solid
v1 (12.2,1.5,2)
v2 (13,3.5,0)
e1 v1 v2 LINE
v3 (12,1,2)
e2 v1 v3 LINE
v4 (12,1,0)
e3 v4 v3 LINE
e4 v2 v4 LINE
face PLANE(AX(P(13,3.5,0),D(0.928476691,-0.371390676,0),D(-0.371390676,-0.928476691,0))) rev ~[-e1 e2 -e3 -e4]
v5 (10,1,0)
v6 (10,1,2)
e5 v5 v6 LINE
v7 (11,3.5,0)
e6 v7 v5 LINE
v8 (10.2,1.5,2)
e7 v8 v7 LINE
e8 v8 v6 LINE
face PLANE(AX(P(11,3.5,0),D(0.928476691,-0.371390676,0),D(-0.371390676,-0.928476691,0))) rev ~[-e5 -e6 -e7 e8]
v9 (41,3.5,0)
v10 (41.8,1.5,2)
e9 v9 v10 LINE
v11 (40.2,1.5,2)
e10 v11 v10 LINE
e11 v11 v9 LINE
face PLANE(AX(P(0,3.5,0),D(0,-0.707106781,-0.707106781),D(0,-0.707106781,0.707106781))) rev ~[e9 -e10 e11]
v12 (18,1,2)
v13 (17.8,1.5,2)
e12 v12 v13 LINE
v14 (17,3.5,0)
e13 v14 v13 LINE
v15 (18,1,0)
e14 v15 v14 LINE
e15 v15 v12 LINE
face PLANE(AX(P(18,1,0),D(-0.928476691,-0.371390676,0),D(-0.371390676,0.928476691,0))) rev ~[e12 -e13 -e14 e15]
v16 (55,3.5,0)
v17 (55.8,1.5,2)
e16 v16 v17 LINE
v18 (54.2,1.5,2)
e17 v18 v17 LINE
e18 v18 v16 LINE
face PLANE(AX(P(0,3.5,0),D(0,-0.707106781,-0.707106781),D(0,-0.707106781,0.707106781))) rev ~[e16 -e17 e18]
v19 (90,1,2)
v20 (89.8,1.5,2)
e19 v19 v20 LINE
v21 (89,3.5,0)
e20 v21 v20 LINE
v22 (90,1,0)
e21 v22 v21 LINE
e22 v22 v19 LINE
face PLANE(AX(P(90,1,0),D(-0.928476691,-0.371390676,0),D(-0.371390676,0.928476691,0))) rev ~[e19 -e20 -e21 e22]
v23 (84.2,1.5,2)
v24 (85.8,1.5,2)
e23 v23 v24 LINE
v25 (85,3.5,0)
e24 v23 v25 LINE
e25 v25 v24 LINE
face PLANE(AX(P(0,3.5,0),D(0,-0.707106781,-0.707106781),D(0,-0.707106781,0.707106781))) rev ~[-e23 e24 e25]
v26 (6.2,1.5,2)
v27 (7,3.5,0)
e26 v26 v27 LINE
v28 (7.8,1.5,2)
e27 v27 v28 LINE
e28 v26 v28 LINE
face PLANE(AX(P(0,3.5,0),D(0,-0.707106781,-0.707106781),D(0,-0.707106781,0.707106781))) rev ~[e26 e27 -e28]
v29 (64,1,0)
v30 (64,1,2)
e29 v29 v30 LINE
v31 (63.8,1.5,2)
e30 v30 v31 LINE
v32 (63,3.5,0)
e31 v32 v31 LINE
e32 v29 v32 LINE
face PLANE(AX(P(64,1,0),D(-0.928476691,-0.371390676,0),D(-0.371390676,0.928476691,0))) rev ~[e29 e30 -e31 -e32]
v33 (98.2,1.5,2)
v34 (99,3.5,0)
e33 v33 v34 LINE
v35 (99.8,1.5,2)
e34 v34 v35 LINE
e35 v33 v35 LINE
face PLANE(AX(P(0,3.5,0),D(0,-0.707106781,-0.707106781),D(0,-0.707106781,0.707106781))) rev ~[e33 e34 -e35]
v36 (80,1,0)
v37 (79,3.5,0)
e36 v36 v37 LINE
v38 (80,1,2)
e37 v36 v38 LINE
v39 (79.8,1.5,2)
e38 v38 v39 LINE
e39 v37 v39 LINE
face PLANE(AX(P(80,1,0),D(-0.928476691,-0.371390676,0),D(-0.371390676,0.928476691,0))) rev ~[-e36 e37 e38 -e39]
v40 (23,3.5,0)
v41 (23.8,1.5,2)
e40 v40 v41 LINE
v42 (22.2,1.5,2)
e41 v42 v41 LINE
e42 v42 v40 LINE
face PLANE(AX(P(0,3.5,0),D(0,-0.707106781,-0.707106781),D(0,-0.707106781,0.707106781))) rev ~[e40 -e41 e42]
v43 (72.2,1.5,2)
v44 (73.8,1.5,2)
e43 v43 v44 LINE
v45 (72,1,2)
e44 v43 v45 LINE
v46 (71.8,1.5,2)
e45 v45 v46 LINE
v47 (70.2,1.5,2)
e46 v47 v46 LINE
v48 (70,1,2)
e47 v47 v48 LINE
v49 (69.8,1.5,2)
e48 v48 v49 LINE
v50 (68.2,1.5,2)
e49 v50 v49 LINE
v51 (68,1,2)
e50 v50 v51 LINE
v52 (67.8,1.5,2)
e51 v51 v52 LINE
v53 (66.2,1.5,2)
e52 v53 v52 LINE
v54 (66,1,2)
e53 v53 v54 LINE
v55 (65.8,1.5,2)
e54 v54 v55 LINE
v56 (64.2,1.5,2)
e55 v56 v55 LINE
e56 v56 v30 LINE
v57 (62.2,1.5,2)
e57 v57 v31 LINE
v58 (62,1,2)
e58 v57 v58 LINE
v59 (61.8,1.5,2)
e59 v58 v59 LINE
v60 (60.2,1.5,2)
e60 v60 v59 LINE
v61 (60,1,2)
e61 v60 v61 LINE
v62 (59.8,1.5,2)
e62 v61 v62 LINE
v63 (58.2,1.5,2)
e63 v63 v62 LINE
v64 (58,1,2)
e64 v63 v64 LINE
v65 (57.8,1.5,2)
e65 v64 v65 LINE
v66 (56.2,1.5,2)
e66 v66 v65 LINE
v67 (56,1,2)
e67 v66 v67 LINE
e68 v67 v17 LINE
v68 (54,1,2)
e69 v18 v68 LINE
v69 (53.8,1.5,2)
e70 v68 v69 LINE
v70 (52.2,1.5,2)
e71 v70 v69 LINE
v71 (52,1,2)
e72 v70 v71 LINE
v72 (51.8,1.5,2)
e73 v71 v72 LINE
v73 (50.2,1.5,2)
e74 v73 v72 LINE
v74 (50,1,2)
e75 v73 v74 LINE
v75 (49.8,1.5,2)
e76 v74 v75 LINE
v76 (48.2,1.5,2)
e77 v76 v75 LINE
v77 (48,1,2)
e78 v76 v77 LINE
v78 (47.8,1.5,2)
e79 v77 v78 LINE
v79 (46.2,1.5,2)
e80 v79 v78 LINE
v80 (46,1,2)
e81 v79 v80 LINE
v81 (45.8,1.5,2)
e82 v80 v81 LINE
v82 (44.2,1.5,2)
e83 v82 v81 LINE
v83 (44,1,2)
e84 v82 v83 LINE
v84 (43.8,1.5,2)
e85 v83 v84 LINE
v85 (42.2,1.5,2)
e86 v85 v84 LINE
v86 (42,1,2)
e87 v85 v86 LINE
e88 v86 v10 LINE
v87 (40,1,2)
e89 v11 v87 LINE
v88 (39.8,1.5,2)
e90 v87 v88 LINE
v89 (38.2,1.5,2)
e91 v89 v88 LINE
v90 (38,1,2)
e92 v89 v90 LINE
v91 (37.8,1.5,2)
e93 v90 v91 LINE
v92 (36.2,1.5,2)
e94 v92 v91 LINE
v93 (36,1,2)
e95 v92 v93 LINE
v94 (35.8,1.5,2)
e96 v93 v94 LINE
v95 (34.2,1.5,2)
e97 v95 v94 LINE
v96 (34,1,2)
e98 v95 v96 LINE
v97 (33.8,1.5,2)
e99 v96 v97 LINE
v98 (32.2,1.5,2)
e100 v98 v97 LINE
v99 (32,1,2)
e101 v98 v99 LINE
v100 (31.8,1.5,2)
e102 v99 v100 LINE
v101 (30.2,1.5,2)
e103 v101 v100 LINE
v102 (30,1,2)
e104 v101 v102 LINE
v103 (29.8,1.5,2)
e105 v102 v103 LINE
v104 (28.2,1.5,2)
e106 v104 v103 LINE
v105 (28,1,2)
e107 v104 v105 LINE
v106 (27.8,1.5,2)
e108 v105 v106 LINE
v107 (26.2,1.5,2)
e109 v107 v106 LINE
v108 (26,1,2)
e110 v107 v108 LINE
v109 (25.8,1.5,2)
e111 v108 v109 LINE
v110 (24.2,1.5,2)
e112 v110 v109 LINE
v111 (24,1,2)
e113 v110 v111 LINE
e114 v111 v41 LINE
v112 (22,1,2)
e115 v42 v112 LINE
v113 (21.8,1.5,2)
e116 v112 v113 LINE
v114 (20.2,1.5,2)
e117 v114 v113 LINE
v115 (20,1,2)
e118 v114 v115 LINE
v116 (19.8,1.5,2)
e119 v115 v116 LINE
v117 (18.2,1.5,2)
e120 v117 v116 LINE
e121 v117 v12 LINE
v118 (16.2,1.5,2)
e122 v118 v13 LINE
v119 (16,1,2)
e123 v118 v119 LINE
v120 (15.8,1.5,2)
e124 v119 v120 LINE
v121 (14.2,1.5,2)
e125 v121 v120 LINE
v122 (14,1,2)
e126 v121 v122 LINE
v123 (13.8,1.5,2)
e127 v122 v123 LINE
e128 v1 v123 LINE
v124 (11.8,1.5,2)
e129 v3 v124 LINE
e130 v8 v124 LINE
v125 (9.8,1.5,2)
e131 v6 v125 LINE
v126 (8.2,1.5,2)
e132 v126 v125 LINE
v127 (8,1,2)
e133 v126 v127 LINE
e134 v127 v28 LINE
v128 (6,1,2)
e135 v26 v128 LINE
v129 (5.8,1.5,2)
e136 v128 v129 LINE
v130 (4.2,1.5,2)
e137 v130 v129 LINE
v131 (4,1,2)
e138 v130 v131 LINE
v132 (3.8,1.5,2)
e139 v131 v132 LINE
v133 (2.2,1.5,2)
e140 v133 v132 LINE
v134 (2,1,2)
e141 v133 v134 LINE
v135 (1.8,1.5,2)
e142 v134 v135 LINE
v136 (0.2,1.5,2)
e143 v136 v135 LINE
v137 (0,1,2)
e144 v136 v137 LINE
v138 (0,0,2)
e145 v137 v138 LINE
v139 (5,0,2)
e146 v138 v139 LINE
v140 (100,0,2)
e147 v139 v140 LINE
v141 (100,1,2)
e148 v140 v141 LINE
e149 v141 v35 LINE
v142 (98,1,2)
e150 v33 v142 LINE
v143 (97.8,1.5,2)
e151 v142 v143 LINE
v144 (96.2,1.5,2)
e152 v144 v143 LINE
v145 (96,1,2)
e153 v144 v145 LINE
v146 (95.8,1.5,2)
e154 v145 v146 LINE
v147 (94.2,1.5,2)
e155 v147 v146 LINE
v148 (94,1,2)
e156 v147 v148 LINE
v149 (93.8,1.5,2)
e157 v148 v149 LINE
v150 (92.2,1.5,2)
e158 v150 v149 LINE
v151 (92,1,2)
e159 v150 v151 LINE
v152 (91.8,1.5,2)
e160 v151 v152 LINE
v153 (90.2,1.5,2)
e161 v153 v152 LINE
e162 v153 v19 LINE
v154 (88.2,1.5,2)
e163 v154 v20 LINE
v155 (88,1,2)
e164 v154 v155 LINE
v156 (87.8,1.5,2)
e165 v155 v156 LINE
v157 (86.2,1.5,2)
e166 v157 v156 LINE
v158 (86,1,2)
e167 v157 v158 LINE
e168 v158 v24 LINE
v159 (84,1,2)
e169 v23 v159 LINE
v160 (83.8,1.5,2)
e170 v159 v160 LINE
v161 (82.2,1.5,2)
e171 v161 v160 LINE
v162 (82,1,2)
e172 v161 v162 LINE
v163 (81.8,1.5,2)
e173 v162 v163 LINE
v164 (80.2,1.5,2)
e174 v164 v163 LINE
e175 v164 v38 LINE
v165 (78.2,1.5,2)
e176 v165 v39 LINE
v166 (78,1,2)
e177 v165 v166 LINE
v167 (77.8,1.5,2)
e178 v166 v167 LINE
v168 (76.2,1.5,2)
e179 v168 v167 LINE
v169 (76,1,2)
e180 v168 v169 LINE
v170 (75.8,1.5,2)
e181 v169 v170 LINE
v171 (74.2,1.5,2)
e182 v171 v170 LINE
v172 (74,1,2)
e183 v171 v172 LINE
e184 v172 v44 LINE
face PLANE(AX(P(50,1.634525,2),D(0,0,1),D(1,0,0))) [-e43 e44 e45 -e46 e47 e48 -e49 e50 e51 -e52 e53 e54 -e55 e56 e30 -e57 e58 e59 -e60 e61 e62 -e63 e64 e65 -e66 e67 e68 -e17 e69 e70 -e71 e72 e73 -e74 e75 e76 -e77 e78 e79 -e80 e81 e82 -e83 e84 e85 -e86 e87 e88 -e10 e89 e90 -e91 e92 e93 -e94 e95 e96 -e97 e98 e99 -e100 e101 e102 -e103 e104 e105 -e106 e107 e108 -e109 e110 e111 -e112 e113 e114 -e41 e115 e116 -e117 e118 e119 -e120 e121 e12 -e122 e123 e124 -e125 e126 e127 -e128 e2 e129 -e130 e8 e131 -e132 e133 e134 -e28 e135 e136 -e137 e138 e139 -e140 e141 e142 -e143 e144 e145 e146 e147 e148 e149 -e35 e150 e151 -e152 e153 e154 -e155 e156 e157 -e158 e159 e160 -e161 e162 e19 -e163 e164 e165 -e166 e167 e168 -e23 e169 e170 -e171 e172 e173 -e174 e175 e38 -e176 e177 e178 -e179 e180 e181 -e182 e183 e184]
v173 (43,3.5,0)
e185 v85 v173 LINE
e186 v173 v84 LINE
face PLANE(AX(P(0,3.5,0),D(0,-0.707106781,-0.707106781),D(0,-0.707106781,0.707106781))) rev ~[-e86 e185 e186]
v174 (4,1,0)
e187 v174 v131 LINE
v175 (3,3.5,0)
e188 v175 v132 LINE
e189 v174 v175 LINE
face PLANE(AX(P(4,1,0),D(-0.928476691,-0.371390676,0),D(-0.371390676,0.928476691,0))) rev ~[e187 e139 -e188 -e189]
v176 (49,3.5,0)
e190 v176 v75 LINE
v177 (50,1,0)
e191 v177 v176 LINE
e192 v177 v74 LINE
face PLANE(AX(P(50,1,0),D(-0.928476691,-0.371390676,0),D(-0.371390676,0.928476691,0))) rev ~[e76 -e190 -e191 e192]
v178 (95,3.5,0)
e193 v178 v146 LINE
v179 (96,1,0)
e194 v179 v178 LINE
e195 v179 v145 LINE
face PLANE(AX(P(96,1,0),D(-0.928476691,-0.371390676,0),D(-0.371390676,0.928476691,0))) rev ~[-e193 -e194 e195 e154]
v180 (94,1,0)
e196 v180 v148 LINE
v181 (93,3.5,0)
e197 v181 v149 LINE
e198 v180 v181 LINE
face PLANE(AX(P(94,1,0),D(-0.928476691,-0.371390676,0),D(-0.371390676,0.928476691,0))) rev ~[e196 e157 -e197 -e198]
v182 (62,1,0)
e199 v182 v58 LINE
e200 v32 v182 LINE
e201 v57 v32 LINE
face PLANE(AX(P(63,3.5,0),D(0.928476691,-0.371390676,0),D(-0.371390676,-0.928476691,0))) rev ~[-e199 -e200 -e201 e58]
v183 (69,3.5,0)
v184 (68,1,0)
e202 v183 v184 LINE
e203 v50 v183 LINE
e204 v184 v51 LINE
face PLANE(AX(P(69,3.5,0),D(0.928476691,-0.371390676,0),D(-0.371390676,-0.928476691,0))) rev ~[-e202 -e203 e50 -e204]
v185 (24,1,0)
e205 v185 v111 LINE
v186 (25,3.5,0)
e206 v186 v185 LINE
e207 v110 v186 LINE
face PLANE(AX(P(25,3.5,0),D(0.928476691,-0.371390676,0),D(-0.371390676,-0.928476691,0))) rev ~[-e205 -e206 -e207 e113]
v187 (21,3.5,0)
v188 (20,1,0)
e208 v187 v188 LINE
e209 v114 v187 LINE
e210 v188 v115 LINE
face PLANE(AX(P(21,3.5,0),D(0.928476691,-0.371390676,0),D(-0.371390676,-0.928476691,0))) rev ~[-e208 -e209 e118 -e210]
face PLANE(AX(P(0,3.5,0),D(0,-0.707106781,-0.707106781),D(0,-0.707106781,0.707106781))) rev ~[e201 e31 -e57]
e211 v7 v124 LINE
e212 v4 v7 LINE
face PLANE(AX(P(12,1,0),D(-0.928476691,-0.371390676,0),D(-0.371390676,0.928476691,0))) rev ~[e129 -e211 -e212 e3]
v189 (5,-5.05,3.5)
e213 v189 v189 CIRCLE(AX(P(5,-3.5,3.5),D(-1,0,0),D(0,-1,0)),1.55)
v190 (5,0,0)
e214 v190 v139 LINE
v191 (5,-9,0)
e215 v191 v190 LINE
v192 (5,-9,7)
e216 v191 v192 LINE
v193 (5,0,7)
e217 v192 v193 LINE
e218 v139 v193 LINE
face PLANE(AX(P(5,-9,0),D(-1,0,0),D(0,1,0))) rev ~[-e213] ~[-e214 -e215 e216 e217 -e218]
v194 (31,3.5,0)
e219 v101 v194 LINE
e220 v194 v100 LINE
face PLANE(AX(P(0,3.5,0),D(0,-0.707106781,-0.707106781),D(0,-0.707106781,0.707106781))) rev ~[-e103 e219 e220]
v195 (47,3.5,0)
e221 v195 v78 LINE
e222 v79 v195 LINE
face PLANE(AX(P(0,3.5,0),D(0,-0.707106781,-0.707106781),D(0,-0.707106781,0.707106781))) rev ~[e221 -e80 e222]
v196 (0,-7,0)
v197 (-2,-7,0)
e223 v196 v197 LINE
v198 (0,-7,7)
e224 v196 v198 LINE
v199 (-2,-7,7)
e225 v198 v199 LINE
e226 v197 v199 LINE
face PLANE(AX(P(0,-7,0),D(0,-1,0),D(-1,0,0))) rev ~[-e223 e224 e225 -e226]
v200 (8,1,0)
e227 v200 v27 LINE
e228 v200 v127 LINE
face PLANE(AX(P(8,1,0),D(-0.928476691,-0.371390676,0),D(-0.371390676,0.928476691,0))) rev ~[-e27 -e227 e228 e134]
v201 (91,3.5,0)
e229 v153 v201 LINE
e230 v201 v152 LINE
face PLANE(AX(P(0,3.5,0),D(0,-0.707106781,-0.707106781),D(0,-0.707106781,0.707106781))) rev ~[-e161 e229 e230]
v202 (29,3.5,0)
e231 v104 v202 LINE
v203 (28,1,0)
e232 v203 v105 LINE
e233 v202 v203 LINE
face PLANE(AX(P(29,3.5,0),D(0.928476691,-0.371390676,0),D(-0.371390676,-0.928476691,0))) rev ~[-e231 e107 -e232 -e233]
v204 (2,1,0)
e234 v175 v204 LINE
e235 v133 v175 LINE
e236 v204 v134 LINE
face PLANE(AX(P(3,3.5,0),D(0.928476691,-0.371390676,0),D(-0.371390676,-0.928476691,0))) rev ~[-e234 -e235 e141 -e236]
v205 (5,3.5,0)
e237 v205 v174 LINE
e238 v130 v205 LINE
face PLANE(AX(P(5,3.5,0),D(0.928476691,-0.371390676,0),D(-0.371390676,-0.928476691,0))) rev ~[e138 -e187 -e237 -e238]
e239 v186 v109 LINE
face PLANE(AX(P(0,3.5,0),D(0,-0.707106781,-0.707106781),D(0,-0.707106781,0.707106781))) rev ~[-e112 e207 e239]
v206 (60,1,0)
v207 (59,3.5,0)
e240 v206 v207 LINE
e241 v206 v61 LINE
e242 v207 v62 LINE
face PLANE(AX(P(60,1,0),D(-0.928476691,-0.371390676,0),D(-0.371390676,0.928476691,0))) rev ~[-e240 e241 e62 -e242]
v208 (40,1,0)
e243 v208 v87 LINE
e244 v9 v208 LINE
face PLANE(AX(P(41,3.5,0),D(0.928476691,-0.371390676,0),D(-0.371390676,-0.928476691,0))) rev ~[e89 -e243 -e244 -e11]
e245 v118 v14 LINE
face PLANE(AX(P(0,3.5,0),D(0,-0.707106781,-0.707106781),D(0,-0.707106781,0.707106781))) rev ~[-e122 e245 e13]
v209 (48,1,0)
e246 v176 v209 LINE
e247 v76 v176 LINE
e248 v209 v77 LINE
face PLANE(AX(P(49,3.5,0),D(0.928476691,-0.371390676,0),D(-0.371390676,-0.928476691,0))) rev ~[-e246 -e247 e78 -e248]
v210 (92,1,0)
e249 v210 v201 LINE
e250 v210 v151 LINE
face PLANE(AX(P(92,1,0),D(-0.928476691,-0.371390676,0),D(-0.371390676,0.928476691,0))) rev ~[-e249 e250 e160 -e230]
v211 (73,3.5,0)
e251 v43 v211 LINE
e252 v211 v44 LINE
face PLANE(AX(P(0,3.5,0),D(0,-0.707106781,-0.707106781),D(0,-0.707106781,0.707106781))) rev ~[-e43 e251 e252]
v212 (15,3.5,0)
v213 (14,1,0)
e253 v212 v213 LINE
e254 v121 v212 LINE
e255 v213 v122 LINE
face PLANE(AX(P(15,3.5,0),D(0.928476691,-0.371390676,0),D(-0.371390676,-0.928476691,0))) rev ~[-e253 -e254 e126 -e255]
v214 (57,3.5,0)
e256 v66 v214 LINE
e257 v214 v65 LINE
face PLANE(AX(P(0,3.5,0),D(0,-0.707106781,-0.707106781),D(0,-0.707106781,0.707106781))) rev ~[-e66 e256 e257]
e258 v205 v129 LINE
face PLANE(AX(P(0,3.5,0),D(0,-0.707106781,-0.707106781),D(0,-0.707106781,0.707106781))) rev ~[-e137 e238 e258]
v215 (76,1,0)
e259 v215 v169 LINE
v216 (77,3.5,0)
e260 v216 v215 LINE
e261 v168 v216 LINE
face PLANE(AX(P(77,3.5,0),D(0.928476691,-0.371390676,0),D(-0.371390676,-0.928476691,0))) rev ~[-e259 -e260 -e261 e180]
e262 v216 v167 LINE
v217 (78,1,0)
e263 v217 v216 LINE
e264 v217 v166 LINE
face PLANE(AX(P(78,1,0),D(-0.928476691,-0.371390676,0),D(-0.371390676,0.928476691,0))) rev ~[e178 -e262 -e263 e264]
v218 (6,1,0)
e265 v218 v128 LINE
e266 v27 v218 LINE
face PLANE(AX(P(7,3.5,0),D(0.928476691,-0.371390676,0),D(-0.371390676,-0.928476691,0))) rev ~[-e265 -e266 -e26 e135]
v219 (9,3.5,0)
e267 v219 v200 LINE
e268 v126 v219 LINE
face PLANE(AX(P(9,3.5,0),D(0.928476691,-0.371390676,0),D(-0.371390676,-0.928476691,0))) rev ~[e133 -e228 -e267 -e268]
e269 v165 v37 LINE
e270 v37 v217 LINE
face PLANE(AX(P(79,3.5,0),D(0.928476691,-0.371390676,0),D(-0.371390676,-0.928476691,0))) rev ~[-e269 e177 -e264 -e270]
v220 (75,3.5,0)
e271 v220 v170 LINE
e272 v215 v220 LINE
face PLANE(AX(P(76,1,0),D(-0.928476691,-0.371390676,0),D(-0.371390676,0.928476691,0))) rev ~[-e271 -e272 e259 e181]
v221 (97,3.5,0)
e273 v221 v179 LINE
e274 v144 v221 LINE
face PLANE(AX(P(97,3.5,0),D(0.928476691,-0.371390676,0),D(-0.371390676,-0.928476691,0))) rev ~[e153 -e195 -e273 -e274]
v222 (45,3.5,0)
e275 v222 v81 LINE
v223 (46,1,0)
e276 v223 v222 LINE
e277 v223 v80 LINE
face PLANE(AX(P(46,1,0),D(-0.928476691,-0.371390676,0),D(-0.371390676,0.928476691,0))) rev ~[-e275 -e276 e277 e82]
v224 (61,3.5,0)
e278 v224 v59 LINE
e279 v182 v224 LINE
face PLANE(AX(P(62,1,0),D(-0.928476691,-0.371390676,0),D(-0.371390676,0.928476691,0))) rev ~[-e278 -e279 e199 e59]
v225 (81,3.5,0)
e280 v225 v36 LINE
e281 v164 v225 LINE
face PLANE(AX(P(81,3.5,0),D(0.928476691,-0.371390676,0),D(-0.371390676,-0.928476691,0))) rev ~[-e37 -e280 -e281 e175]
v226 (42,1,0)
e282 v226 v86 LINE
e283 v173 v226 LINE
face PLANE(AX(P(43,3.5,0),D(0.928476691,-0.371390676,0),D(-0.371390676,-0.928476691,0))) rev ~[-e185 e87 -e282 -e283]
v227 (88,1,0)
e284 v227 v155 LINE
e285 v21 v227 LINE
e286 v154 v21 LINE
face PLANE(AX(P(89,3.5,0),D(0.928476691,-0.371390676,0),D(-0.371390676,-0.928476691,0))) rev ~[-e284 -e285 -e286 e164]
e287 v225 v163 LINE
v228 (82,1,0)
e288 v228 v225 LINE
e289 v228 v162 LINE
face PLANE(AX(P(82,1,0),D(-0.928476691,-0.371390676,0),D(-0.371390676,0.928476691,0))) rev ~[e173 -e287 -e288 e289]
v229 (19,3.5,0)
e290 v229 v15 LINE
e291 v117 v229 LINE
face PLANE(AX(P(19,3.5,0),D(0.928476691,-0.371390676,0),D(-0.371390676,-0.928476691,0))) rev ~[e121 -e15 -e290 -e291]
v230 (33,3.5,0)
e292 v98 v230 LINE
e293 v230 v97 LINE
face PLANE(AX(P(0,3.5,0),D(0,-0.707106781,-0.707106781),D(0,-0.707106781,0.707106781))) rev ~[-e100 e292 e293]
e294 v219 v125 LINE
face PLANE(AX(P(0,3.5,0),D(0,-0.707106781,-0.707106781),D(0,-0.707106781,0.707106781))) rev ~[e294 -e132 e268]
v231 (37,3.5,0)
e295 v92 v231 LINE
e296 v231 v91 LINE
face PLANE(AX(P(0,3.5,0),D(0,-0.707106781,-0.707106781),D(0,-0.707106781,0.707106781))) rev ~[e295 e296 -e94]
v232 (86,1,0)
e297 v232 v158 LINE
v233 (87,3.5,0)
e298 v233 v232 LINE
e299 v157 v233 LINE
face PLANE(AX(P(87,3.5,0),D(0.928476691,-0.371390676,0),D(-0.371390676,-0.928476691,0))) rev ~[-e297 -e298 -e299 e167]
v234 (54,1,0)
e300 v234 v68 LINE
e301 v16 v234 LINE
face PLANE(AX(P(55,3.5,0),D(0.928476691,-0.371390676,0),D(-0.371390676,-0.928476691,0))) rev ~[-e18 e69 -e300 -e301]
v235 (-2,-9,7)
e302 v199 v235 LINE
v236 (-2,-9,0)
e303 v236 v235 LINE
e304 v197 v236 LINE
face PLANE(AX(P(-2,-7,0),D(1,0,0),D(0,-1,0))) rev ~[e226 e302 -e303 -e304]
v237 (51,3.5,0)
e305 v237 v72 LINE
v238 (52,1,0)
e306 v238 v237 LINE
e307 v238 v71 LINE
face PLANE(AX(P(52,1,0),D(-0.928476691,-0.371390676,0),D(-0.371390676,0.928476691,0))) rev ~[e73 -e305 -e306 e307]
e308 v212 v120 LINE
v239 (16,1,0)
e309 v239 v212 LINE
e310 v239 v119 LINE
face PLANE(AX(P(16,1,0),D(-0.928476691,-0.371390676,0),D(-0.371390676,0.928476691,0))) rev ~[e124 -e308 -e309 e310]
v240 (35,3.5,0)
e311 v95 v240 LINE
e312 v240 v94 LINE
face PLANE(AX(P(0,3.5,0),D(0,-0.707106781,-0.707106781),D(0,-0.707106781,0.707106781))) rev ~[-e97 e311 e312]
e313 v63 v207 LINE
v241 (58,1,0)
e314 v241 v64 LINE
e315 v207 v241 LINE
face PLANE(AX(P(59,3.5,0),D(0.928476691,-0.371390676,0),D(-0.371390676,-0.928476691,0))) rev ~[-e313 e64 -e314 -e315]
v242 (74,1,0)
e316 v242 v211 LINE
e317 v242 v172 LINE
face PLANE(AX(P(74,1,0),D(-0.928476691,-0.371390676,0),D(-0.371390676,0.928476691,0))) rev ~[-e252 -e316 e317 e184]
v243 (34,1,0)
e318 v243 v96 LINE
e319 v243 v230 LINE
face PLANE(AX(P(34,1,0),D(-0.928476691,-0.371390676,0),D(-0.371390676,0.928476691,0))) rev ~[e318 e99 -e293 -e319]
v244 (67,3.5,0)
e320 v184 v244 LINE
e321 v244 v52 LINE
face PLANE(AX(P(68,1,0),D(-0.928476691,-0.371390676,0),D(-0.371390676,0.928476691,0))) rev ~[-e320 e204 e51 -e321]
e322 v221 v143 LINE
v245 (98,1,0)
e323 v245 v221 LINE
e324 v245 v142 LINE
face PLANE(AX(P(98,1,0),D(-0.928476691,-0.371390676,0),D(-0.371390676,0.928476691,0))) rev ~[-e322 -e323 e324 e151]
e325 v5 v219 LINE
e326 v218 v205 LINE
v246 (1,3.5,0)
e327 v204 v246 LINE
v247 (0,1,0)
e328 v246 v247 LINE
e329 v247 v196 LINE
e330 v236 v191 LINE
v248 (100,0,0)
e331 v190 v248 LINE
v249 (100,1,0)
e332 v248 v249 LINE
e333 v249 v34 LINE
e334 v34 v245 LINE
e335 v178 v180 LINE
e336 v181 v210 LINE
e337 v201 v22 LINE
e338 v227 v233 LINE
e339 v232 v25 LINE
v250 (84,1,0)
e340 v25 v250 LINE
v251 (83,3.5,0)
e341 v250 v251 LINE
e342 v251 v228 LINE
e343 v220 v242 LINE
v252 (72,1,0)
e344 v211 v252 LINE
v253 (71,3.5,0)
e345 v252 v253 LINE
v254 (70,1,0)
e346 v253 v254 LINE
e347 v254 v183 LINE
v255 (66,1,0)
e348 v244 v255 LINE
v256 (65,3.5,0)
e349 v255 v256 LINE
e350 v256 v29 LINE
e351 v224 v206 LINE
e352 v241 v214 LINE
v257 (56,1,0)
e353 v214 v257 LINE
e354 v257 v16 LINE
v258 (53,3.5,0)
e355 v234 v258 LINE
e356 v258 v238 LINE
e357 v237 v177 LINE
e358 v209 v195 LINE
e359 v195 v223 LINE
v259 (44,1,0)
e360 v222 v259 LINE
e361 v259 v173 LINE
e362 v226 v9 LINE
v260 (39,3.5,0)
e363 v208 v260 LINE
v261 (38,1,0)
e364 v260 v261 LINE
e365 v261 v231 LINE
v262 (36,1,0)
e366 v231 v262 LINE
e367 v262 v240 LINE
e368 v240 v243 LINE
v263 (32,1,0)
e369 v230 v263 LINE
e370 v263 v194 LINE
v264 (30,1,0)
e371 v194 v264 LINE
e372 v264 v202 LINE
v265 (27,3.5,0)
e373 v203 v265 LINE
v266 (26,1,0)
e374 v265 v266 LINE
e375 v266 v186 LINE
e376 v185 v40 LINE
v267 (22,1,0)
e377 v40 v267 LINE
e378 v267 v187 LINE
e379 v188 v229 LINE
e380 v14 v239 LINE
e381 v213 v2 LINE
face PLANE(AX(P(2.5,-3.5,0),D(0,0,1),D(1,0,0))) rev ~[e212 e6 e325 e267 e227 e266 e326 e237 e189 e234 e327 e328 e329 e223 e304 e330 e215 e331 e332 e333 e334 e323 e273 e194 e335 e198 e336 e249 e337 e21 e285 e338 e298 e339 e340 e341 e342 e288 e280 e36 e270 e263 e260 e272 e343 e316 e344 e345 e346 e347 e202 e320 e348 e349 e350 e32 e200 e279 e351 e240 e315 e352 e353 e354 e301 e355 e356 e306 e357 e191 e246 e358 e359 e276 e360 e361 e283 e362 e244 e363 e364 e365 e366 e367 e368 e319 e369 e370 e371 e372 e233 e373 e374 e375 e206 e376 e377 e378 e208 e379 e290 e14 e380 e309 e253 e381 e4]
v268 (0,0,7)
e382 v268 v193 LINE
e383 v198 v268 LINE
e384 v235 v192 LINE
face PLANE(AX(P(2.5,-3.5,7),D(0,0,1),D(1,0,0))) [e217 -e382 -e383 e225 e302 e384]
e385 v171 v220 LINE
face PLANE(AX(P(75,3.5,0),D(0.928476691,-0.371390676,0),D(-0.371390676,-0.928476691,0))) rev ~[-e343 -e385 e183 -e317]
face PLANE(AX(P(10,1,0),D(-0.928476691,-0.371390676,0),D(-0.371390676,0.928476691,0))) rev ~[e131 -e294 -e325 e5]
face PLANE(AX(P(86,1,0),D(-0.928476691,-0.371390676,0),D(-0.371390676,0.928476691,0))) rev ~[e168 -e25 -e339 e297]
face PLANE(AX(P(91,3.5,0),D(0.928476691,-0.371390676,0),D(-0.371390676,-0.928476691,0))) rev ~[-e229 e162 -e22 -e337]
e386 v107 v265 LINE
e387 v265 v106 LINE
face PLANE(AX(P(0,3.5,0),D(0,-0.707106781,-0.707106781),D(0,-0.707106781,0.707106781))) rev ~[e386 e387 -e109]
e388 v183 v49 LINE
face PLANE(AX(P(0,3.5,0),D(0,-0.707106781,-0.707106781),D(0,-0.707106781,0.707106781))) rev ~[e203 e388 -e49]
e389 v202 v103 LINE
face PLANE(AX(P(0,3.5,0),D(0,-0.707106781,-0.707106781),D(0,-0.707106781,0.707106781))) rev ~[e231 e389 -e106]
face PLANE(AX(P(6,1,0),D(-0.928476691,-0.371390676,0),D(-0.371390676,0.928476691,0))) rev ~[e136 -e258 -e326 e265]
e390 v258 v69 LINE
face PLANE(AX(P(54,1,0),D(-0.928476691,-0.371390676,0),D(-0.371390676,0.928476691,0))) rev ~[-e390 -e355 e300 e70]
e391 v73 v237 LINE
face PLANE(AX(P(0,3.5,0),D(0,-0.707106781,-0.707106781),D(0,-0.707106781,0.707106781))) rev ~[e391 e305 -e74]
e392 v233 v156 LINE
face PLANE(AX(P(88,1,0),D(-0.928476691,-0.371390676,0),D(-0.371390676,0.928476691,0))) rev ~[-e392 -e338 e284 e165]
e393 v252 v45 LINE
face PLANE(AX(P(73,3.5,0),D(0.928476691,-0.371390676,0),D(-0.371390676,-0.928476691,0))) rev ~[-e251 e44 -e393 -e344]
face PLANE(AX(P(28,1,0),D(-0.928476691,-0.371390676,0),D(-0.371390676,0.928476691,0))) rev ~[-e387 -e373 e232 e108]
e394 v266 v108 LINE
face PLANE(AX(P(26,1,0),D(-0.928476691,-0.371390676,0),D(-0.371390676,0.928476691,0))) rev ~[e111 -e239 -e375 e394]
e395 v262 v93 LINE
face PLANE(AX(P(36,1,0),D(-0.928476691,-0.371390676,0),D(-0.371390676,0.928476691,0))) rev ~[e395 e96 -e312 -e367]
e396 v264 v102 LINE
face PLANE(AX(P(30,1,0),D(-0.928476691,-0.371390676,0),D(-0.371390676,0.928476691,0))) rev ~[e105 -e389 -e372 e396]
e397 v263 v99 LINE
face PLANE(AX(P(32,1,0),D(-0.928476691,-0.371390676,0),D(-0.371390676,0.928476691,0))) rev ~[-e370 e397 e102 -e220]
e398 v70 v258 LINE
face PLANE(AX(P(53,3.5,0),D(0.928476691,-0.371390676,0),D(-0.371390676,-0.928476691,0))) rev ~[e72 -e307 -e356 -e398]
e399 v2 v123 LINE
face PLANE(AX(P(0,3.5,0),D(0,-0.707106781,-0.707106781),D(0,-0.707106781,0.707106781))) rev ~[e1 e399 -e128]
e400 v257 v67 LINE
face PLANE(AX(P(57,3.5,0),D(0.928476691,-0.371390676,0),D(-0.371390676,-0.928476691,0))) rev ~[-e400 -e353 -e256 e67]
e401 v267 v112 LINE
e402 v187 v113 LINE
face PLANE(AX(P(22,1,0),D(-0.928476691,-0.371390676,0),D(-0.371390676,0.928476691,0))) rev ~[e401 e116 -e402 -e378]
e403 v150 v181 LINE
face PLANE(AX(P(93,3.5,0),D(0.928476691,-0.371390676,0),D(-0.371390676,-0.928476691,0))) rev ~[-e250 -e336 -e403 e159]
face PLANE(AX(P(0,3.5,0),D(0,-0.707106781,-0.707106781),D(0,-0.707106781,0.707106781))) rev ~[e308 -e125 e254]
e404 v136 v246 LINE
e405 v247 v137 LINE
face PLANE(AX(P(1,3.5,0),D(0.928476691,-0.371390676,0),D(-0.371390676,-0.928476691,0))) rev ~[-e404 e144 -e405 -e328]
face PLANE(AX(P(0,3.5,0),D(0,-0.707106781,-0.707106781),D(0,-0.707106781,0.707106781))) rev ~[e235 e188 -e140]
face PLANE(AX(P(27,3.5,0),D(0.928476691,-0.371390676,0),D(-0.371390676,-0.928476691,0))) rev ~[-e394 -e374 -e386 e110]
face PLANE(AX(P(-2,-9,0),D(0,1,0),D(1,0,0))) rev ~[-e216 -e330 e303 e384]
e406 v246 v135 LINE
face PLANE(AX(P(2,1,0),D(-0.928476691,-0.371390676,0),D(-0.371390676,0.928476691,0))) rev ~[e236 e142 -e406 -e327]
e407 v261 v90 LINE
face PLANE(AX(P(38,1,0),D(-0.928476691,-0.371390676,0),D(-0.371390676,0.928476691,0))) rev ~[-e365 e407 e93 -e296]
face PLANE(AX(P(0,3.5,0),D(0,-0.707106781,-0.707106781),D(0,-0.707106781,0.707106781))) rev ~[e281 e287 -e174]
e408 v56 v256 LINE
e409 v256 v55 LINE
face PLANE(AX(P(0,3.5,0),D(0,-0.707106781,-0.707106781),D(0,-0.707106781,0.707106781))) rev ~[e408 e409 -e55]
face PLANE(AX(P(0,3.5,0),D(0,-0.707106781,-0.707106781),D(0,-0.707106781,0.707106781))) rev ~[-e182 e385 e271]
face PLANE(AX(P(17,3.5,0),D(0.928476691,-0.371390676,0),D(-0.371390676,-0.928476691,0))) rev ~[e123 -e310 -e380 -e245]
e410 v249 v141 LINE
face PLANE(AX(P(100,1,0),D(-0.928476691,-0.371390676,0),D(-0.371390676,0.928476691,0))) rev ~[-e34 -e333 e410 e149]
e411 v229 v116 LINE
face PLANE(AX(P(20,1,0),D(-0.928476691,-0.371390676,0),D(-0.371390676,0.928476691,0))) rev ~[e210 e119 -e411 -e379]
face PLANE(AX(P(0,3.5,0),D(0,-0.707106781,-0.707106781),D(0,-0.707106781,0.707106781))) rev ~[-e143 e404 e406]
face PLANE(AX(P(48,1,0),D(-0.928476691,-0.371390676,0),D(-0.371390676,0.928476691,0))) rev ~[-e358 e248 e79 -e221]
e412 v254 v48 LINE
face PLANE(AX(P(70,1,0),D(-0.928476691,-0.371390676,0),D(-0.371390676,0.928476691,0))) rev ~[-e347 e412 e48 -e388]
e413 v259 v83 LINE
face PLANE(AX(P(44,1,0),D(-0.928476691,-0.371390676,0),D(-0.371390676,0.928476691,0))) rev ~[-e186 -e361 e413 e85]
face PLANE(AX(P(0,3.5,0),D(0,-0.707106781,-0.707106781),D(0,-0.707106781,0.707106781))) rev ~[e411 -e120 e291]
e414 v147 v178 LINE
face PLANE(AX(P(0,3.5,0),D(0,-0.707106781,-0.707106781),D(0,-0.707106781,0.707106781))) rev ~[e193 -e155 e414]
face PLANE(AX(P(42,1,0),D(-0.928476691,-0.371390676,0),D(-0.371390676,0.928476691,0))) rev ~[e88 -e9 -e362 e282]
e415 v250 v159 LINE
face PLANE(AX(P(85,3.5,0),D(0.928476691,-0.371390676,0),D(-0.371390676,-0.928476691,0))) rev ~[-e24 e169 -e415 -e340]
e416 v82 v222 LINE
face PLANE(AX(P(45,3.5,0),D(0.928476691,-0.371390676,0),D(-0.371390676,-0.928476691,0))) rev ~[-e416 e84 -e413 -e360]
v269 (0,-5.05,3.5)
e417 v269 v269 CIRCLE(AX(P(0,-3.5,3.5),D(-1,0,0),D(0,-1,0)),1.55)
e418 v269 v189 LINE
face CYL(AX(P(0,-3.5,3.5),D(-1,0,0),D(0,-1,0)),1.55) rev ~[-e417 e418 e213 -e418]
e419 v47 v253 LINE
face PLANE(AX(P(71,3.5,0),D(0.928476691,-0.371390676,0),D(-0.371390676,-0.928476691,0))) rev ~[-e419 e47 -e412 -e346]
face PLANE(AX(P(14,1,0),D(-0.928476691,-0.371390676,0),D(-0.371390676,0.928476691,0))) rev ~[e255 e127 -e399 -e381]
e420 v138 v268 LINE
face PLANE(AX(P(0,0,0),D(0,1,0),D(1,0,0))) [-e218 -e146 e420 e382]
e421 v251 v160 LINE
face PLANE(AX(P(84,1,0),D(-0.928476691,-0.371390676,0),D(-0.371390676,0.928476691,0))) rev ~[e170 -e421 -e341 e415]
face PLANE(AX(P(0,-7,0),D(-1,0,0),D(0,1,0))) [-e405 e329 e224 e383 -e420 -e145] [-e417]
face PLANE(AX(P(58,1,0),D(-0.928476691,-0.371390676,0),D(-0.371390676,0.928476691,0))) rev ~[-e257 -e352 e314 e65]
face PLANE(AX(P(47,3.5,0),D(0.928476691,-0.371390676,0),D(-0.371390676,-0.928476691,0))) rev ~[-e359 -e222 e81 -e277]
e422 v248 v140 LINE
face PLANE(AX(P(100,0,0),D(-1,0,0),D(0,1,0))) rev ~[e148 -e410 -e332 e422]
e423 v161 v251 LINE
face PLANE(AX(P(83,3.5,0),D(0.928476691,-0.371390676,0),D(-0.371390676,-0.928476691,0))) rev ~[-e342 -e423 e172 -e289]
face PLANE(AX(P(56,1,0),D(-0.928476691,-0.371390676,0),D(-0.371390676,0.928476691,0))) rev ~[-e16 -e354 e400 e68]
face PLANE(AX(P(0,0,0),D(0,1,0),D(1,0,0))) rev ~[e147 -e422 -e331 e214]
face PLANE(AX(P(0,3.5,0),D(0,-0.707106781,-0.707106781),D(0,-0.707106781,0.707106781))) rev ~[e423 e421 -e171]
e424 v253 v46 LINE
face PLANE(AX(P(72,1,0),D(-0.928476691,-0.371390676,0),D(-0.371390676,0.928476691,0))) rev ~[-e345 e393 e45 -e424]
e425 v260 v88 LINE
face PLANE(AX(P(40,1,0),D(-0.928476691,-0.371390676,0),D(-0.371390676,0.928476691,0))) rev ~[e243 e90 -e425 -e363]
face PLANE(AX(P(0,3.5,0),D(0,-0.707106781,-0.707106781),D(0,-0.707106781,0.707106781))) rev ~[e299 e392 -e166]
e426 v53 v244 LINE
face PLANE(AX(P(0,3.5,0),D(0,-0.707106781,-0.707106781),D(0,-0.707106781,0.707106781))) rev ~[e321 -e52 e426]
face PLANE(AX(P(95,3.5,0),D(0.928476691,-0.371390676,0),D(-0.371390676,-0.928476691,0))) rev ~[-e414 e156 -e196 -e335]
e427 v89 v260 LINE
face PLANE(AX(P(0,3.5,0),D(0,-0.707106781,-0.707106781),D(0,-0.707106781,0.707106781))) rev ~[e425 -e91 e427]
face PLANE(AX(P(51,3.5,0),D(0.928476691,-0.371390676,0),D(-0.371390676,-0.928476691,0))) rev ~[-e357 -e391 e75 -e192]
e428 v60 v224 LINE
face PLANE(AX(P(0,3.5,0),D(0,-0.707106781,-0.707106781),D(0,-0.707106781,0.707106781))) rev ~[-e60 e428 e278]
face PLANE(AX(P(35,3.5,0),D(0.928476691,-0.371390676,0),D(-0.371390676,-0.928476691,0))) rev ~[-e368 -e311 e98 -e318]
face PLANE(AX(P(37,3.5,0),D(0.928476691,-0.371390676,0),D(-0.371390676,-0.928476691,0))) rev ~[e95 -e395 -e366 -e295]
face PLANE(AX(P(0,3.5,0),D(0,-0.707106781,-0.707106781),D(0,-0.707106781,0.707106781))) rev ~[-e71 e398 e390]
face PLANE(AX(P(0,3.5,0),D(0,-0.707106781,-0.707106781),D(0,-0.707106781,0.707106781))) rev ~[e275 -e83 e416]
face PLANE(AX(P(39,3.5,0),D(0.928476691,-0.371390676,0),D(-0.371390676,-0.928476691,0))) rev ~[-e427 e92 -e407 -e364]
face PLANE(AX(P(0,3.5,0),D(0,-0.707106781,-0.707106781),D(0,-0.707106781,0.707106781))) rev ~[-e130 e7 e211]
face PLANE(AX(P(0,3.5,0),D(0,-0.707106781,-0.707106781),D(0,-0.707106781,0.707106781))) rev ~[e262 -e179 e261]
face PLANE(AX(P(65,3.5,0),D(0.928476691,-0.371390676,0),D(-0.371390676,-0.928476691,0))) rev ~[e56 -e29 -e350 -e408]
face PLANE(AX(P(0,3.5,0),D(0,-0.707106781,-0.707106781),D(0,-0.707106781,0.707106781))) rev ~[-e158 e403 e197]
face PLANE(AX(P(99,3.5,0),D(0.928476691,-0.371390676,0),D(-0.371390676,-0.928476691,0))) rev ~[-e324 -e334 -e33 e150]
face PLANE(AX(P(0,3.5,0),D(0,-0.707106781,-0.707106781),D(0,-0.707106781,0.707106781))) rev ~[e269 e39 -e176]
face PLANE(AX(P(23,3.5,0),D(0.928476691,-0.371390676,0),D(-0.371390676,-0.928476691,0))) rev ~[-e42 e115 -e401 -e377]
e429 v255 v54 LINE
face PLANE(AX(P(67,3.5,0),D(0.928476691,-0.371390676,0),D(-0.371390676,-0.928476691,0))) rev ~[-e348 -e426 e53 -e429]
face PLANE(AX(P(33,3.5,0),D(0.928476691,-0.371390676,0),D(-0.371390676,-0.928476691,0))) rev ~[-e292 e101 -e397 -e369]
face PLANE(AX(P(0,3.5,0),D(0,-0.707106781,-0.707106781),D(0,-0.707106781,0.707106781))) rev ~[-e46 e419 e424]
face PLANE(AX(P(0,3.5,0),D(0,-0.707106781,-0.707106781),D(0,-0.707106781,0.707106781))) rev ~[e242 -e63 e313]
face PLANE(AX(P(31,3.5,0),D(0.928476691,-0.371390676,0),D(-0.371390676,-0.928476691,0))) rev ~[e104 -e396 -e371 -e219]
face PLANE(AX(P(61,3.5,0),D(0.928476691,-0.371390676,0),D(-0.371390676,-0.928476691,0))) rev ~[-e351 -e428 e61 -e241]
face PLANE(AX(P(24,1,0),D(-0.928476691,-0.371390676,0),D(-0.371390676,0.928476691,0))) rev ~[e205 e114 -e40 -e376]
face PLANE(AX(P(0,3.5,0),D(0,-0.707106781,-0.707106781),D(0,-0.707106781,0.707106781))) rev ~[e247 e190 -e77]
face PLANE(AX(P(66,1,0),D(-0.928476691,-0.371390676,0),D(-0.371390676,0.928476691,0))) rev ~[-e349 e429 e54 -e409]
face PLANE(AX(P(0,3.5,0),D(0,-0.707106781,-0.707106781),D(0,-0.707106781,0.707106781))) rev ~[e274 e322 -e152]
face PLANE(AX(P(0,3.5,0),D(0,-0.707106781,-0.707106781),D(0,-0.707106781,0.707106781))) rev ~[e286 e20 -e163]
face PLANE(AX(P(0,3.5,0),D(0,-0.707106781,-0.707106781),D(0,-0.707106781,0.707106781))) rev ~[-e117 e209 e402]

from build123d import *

# Parameters (mm, degrees)
F1_DEPTH = 2
F3_DEPTH = 100.001
F4_W     = 5
F4_H     = 7
F5_DEPTH = 7
F6_R     = 1.55
F7_DEPTH = 5


with BuildPart() as f1:
    # F0 (on Top) → F1 (new body)
    with BuildSketch(Plane.XY):
        Polygon((1, 3.5), (0, 1), (0, 0), (100, 0), (100, 1), (99, 3.5), (98, 1), (97, 3.5), (96, 1), (95, 3.5), (94, 1), (93, 3.5), (92, 1), (91, 3.5), (90, 1), (89, 3.5), (88, 1), (87, 3.5), (86, 1), (85, 3.5), (84, 1), (83, 3.5), (82, 1), (81, 3.5), (80, 1), (79, 3.5), (78, 1), (77, 3.5), (76, 1), (75, 3.5), (74, 1), (73, 3.5), (72, 1), (71, 3.5), (70, 1), (69, 3.5), (68, 1), (67, 3.5), (66, 1), (65, 3.5), (64, 1), (63, 3.5), (62, 1), (61, 3.5), (60, 1), (59, 3.5), (58, 1), (57, 3.5), (56, 1), (55, 3.5), (54, 1), (53, 3.5), (52, 1), (51, 3.5), (50, 1), (49, 3.5), (48, 1), (47, 3.5), (46, 1), (45, 3.5), (44, 1), (43, 3.5), (42, 1), (41, 3.5), (40, 1), (39, 3.5), (38, 1), (37, 3.5), (36, 1), (35, 3.5), (34, 1), (33, 3.5), (32, 1), (31, 3.5), (30, 1), (29, 3.5), (28, 1), (27, 3.5), (26, 1), (25, 3.5), (24, 1), (23, 3.5), (22, 1), (21, 3.5), (20, 1), (19, 3.5), (18, 1), (17, 3.5), (16, 1), (15, 3.5), (14, 1), (13, 3.5), (12, 1), (11, 3.5), (10, 1), (9, 3.5), (8, 1), (7, 3.5), (6, 1), (5, 3.5), (4, 1), (3, 3.5), (2, 1), align=None)
    extrude(amount=F1_DEPTH)

    # F2 (on Right) → F3 (intersect, through all)
    with BuildSketch(Plane.YZ):
        Polygon((0, 3.5), (0, 0), (3.5, 0), align=None)
    extrude(amount=F3_DEPTH, mode=Mode.INTERSECT)

    # F4 (on Top) → F5 (join)
    with BuildSketch(Plane.XY):
        with Locations((2.5, -3.5)):
            Rectangle(F4_W, F4_H)
        Polygon((5, -7), (0, -7), (-2, -7), (-2, -9), (5, -9), align=None)
    extrude(amount=F5_DEPTH)

    # F6 (on face) → F7 (cut, through all)
    with BuildSketch(Plane(origin=(0, 0, 0), x_dir=(0, -1, 0), z_dir=(-1, 0, 0))):
        with Locations((3.5, 3.5)):
            Circle(F6_R)
    extrude(amount=-F7_DEPTH, mode=Mode.SUBTRACT)


solid = f1.part
